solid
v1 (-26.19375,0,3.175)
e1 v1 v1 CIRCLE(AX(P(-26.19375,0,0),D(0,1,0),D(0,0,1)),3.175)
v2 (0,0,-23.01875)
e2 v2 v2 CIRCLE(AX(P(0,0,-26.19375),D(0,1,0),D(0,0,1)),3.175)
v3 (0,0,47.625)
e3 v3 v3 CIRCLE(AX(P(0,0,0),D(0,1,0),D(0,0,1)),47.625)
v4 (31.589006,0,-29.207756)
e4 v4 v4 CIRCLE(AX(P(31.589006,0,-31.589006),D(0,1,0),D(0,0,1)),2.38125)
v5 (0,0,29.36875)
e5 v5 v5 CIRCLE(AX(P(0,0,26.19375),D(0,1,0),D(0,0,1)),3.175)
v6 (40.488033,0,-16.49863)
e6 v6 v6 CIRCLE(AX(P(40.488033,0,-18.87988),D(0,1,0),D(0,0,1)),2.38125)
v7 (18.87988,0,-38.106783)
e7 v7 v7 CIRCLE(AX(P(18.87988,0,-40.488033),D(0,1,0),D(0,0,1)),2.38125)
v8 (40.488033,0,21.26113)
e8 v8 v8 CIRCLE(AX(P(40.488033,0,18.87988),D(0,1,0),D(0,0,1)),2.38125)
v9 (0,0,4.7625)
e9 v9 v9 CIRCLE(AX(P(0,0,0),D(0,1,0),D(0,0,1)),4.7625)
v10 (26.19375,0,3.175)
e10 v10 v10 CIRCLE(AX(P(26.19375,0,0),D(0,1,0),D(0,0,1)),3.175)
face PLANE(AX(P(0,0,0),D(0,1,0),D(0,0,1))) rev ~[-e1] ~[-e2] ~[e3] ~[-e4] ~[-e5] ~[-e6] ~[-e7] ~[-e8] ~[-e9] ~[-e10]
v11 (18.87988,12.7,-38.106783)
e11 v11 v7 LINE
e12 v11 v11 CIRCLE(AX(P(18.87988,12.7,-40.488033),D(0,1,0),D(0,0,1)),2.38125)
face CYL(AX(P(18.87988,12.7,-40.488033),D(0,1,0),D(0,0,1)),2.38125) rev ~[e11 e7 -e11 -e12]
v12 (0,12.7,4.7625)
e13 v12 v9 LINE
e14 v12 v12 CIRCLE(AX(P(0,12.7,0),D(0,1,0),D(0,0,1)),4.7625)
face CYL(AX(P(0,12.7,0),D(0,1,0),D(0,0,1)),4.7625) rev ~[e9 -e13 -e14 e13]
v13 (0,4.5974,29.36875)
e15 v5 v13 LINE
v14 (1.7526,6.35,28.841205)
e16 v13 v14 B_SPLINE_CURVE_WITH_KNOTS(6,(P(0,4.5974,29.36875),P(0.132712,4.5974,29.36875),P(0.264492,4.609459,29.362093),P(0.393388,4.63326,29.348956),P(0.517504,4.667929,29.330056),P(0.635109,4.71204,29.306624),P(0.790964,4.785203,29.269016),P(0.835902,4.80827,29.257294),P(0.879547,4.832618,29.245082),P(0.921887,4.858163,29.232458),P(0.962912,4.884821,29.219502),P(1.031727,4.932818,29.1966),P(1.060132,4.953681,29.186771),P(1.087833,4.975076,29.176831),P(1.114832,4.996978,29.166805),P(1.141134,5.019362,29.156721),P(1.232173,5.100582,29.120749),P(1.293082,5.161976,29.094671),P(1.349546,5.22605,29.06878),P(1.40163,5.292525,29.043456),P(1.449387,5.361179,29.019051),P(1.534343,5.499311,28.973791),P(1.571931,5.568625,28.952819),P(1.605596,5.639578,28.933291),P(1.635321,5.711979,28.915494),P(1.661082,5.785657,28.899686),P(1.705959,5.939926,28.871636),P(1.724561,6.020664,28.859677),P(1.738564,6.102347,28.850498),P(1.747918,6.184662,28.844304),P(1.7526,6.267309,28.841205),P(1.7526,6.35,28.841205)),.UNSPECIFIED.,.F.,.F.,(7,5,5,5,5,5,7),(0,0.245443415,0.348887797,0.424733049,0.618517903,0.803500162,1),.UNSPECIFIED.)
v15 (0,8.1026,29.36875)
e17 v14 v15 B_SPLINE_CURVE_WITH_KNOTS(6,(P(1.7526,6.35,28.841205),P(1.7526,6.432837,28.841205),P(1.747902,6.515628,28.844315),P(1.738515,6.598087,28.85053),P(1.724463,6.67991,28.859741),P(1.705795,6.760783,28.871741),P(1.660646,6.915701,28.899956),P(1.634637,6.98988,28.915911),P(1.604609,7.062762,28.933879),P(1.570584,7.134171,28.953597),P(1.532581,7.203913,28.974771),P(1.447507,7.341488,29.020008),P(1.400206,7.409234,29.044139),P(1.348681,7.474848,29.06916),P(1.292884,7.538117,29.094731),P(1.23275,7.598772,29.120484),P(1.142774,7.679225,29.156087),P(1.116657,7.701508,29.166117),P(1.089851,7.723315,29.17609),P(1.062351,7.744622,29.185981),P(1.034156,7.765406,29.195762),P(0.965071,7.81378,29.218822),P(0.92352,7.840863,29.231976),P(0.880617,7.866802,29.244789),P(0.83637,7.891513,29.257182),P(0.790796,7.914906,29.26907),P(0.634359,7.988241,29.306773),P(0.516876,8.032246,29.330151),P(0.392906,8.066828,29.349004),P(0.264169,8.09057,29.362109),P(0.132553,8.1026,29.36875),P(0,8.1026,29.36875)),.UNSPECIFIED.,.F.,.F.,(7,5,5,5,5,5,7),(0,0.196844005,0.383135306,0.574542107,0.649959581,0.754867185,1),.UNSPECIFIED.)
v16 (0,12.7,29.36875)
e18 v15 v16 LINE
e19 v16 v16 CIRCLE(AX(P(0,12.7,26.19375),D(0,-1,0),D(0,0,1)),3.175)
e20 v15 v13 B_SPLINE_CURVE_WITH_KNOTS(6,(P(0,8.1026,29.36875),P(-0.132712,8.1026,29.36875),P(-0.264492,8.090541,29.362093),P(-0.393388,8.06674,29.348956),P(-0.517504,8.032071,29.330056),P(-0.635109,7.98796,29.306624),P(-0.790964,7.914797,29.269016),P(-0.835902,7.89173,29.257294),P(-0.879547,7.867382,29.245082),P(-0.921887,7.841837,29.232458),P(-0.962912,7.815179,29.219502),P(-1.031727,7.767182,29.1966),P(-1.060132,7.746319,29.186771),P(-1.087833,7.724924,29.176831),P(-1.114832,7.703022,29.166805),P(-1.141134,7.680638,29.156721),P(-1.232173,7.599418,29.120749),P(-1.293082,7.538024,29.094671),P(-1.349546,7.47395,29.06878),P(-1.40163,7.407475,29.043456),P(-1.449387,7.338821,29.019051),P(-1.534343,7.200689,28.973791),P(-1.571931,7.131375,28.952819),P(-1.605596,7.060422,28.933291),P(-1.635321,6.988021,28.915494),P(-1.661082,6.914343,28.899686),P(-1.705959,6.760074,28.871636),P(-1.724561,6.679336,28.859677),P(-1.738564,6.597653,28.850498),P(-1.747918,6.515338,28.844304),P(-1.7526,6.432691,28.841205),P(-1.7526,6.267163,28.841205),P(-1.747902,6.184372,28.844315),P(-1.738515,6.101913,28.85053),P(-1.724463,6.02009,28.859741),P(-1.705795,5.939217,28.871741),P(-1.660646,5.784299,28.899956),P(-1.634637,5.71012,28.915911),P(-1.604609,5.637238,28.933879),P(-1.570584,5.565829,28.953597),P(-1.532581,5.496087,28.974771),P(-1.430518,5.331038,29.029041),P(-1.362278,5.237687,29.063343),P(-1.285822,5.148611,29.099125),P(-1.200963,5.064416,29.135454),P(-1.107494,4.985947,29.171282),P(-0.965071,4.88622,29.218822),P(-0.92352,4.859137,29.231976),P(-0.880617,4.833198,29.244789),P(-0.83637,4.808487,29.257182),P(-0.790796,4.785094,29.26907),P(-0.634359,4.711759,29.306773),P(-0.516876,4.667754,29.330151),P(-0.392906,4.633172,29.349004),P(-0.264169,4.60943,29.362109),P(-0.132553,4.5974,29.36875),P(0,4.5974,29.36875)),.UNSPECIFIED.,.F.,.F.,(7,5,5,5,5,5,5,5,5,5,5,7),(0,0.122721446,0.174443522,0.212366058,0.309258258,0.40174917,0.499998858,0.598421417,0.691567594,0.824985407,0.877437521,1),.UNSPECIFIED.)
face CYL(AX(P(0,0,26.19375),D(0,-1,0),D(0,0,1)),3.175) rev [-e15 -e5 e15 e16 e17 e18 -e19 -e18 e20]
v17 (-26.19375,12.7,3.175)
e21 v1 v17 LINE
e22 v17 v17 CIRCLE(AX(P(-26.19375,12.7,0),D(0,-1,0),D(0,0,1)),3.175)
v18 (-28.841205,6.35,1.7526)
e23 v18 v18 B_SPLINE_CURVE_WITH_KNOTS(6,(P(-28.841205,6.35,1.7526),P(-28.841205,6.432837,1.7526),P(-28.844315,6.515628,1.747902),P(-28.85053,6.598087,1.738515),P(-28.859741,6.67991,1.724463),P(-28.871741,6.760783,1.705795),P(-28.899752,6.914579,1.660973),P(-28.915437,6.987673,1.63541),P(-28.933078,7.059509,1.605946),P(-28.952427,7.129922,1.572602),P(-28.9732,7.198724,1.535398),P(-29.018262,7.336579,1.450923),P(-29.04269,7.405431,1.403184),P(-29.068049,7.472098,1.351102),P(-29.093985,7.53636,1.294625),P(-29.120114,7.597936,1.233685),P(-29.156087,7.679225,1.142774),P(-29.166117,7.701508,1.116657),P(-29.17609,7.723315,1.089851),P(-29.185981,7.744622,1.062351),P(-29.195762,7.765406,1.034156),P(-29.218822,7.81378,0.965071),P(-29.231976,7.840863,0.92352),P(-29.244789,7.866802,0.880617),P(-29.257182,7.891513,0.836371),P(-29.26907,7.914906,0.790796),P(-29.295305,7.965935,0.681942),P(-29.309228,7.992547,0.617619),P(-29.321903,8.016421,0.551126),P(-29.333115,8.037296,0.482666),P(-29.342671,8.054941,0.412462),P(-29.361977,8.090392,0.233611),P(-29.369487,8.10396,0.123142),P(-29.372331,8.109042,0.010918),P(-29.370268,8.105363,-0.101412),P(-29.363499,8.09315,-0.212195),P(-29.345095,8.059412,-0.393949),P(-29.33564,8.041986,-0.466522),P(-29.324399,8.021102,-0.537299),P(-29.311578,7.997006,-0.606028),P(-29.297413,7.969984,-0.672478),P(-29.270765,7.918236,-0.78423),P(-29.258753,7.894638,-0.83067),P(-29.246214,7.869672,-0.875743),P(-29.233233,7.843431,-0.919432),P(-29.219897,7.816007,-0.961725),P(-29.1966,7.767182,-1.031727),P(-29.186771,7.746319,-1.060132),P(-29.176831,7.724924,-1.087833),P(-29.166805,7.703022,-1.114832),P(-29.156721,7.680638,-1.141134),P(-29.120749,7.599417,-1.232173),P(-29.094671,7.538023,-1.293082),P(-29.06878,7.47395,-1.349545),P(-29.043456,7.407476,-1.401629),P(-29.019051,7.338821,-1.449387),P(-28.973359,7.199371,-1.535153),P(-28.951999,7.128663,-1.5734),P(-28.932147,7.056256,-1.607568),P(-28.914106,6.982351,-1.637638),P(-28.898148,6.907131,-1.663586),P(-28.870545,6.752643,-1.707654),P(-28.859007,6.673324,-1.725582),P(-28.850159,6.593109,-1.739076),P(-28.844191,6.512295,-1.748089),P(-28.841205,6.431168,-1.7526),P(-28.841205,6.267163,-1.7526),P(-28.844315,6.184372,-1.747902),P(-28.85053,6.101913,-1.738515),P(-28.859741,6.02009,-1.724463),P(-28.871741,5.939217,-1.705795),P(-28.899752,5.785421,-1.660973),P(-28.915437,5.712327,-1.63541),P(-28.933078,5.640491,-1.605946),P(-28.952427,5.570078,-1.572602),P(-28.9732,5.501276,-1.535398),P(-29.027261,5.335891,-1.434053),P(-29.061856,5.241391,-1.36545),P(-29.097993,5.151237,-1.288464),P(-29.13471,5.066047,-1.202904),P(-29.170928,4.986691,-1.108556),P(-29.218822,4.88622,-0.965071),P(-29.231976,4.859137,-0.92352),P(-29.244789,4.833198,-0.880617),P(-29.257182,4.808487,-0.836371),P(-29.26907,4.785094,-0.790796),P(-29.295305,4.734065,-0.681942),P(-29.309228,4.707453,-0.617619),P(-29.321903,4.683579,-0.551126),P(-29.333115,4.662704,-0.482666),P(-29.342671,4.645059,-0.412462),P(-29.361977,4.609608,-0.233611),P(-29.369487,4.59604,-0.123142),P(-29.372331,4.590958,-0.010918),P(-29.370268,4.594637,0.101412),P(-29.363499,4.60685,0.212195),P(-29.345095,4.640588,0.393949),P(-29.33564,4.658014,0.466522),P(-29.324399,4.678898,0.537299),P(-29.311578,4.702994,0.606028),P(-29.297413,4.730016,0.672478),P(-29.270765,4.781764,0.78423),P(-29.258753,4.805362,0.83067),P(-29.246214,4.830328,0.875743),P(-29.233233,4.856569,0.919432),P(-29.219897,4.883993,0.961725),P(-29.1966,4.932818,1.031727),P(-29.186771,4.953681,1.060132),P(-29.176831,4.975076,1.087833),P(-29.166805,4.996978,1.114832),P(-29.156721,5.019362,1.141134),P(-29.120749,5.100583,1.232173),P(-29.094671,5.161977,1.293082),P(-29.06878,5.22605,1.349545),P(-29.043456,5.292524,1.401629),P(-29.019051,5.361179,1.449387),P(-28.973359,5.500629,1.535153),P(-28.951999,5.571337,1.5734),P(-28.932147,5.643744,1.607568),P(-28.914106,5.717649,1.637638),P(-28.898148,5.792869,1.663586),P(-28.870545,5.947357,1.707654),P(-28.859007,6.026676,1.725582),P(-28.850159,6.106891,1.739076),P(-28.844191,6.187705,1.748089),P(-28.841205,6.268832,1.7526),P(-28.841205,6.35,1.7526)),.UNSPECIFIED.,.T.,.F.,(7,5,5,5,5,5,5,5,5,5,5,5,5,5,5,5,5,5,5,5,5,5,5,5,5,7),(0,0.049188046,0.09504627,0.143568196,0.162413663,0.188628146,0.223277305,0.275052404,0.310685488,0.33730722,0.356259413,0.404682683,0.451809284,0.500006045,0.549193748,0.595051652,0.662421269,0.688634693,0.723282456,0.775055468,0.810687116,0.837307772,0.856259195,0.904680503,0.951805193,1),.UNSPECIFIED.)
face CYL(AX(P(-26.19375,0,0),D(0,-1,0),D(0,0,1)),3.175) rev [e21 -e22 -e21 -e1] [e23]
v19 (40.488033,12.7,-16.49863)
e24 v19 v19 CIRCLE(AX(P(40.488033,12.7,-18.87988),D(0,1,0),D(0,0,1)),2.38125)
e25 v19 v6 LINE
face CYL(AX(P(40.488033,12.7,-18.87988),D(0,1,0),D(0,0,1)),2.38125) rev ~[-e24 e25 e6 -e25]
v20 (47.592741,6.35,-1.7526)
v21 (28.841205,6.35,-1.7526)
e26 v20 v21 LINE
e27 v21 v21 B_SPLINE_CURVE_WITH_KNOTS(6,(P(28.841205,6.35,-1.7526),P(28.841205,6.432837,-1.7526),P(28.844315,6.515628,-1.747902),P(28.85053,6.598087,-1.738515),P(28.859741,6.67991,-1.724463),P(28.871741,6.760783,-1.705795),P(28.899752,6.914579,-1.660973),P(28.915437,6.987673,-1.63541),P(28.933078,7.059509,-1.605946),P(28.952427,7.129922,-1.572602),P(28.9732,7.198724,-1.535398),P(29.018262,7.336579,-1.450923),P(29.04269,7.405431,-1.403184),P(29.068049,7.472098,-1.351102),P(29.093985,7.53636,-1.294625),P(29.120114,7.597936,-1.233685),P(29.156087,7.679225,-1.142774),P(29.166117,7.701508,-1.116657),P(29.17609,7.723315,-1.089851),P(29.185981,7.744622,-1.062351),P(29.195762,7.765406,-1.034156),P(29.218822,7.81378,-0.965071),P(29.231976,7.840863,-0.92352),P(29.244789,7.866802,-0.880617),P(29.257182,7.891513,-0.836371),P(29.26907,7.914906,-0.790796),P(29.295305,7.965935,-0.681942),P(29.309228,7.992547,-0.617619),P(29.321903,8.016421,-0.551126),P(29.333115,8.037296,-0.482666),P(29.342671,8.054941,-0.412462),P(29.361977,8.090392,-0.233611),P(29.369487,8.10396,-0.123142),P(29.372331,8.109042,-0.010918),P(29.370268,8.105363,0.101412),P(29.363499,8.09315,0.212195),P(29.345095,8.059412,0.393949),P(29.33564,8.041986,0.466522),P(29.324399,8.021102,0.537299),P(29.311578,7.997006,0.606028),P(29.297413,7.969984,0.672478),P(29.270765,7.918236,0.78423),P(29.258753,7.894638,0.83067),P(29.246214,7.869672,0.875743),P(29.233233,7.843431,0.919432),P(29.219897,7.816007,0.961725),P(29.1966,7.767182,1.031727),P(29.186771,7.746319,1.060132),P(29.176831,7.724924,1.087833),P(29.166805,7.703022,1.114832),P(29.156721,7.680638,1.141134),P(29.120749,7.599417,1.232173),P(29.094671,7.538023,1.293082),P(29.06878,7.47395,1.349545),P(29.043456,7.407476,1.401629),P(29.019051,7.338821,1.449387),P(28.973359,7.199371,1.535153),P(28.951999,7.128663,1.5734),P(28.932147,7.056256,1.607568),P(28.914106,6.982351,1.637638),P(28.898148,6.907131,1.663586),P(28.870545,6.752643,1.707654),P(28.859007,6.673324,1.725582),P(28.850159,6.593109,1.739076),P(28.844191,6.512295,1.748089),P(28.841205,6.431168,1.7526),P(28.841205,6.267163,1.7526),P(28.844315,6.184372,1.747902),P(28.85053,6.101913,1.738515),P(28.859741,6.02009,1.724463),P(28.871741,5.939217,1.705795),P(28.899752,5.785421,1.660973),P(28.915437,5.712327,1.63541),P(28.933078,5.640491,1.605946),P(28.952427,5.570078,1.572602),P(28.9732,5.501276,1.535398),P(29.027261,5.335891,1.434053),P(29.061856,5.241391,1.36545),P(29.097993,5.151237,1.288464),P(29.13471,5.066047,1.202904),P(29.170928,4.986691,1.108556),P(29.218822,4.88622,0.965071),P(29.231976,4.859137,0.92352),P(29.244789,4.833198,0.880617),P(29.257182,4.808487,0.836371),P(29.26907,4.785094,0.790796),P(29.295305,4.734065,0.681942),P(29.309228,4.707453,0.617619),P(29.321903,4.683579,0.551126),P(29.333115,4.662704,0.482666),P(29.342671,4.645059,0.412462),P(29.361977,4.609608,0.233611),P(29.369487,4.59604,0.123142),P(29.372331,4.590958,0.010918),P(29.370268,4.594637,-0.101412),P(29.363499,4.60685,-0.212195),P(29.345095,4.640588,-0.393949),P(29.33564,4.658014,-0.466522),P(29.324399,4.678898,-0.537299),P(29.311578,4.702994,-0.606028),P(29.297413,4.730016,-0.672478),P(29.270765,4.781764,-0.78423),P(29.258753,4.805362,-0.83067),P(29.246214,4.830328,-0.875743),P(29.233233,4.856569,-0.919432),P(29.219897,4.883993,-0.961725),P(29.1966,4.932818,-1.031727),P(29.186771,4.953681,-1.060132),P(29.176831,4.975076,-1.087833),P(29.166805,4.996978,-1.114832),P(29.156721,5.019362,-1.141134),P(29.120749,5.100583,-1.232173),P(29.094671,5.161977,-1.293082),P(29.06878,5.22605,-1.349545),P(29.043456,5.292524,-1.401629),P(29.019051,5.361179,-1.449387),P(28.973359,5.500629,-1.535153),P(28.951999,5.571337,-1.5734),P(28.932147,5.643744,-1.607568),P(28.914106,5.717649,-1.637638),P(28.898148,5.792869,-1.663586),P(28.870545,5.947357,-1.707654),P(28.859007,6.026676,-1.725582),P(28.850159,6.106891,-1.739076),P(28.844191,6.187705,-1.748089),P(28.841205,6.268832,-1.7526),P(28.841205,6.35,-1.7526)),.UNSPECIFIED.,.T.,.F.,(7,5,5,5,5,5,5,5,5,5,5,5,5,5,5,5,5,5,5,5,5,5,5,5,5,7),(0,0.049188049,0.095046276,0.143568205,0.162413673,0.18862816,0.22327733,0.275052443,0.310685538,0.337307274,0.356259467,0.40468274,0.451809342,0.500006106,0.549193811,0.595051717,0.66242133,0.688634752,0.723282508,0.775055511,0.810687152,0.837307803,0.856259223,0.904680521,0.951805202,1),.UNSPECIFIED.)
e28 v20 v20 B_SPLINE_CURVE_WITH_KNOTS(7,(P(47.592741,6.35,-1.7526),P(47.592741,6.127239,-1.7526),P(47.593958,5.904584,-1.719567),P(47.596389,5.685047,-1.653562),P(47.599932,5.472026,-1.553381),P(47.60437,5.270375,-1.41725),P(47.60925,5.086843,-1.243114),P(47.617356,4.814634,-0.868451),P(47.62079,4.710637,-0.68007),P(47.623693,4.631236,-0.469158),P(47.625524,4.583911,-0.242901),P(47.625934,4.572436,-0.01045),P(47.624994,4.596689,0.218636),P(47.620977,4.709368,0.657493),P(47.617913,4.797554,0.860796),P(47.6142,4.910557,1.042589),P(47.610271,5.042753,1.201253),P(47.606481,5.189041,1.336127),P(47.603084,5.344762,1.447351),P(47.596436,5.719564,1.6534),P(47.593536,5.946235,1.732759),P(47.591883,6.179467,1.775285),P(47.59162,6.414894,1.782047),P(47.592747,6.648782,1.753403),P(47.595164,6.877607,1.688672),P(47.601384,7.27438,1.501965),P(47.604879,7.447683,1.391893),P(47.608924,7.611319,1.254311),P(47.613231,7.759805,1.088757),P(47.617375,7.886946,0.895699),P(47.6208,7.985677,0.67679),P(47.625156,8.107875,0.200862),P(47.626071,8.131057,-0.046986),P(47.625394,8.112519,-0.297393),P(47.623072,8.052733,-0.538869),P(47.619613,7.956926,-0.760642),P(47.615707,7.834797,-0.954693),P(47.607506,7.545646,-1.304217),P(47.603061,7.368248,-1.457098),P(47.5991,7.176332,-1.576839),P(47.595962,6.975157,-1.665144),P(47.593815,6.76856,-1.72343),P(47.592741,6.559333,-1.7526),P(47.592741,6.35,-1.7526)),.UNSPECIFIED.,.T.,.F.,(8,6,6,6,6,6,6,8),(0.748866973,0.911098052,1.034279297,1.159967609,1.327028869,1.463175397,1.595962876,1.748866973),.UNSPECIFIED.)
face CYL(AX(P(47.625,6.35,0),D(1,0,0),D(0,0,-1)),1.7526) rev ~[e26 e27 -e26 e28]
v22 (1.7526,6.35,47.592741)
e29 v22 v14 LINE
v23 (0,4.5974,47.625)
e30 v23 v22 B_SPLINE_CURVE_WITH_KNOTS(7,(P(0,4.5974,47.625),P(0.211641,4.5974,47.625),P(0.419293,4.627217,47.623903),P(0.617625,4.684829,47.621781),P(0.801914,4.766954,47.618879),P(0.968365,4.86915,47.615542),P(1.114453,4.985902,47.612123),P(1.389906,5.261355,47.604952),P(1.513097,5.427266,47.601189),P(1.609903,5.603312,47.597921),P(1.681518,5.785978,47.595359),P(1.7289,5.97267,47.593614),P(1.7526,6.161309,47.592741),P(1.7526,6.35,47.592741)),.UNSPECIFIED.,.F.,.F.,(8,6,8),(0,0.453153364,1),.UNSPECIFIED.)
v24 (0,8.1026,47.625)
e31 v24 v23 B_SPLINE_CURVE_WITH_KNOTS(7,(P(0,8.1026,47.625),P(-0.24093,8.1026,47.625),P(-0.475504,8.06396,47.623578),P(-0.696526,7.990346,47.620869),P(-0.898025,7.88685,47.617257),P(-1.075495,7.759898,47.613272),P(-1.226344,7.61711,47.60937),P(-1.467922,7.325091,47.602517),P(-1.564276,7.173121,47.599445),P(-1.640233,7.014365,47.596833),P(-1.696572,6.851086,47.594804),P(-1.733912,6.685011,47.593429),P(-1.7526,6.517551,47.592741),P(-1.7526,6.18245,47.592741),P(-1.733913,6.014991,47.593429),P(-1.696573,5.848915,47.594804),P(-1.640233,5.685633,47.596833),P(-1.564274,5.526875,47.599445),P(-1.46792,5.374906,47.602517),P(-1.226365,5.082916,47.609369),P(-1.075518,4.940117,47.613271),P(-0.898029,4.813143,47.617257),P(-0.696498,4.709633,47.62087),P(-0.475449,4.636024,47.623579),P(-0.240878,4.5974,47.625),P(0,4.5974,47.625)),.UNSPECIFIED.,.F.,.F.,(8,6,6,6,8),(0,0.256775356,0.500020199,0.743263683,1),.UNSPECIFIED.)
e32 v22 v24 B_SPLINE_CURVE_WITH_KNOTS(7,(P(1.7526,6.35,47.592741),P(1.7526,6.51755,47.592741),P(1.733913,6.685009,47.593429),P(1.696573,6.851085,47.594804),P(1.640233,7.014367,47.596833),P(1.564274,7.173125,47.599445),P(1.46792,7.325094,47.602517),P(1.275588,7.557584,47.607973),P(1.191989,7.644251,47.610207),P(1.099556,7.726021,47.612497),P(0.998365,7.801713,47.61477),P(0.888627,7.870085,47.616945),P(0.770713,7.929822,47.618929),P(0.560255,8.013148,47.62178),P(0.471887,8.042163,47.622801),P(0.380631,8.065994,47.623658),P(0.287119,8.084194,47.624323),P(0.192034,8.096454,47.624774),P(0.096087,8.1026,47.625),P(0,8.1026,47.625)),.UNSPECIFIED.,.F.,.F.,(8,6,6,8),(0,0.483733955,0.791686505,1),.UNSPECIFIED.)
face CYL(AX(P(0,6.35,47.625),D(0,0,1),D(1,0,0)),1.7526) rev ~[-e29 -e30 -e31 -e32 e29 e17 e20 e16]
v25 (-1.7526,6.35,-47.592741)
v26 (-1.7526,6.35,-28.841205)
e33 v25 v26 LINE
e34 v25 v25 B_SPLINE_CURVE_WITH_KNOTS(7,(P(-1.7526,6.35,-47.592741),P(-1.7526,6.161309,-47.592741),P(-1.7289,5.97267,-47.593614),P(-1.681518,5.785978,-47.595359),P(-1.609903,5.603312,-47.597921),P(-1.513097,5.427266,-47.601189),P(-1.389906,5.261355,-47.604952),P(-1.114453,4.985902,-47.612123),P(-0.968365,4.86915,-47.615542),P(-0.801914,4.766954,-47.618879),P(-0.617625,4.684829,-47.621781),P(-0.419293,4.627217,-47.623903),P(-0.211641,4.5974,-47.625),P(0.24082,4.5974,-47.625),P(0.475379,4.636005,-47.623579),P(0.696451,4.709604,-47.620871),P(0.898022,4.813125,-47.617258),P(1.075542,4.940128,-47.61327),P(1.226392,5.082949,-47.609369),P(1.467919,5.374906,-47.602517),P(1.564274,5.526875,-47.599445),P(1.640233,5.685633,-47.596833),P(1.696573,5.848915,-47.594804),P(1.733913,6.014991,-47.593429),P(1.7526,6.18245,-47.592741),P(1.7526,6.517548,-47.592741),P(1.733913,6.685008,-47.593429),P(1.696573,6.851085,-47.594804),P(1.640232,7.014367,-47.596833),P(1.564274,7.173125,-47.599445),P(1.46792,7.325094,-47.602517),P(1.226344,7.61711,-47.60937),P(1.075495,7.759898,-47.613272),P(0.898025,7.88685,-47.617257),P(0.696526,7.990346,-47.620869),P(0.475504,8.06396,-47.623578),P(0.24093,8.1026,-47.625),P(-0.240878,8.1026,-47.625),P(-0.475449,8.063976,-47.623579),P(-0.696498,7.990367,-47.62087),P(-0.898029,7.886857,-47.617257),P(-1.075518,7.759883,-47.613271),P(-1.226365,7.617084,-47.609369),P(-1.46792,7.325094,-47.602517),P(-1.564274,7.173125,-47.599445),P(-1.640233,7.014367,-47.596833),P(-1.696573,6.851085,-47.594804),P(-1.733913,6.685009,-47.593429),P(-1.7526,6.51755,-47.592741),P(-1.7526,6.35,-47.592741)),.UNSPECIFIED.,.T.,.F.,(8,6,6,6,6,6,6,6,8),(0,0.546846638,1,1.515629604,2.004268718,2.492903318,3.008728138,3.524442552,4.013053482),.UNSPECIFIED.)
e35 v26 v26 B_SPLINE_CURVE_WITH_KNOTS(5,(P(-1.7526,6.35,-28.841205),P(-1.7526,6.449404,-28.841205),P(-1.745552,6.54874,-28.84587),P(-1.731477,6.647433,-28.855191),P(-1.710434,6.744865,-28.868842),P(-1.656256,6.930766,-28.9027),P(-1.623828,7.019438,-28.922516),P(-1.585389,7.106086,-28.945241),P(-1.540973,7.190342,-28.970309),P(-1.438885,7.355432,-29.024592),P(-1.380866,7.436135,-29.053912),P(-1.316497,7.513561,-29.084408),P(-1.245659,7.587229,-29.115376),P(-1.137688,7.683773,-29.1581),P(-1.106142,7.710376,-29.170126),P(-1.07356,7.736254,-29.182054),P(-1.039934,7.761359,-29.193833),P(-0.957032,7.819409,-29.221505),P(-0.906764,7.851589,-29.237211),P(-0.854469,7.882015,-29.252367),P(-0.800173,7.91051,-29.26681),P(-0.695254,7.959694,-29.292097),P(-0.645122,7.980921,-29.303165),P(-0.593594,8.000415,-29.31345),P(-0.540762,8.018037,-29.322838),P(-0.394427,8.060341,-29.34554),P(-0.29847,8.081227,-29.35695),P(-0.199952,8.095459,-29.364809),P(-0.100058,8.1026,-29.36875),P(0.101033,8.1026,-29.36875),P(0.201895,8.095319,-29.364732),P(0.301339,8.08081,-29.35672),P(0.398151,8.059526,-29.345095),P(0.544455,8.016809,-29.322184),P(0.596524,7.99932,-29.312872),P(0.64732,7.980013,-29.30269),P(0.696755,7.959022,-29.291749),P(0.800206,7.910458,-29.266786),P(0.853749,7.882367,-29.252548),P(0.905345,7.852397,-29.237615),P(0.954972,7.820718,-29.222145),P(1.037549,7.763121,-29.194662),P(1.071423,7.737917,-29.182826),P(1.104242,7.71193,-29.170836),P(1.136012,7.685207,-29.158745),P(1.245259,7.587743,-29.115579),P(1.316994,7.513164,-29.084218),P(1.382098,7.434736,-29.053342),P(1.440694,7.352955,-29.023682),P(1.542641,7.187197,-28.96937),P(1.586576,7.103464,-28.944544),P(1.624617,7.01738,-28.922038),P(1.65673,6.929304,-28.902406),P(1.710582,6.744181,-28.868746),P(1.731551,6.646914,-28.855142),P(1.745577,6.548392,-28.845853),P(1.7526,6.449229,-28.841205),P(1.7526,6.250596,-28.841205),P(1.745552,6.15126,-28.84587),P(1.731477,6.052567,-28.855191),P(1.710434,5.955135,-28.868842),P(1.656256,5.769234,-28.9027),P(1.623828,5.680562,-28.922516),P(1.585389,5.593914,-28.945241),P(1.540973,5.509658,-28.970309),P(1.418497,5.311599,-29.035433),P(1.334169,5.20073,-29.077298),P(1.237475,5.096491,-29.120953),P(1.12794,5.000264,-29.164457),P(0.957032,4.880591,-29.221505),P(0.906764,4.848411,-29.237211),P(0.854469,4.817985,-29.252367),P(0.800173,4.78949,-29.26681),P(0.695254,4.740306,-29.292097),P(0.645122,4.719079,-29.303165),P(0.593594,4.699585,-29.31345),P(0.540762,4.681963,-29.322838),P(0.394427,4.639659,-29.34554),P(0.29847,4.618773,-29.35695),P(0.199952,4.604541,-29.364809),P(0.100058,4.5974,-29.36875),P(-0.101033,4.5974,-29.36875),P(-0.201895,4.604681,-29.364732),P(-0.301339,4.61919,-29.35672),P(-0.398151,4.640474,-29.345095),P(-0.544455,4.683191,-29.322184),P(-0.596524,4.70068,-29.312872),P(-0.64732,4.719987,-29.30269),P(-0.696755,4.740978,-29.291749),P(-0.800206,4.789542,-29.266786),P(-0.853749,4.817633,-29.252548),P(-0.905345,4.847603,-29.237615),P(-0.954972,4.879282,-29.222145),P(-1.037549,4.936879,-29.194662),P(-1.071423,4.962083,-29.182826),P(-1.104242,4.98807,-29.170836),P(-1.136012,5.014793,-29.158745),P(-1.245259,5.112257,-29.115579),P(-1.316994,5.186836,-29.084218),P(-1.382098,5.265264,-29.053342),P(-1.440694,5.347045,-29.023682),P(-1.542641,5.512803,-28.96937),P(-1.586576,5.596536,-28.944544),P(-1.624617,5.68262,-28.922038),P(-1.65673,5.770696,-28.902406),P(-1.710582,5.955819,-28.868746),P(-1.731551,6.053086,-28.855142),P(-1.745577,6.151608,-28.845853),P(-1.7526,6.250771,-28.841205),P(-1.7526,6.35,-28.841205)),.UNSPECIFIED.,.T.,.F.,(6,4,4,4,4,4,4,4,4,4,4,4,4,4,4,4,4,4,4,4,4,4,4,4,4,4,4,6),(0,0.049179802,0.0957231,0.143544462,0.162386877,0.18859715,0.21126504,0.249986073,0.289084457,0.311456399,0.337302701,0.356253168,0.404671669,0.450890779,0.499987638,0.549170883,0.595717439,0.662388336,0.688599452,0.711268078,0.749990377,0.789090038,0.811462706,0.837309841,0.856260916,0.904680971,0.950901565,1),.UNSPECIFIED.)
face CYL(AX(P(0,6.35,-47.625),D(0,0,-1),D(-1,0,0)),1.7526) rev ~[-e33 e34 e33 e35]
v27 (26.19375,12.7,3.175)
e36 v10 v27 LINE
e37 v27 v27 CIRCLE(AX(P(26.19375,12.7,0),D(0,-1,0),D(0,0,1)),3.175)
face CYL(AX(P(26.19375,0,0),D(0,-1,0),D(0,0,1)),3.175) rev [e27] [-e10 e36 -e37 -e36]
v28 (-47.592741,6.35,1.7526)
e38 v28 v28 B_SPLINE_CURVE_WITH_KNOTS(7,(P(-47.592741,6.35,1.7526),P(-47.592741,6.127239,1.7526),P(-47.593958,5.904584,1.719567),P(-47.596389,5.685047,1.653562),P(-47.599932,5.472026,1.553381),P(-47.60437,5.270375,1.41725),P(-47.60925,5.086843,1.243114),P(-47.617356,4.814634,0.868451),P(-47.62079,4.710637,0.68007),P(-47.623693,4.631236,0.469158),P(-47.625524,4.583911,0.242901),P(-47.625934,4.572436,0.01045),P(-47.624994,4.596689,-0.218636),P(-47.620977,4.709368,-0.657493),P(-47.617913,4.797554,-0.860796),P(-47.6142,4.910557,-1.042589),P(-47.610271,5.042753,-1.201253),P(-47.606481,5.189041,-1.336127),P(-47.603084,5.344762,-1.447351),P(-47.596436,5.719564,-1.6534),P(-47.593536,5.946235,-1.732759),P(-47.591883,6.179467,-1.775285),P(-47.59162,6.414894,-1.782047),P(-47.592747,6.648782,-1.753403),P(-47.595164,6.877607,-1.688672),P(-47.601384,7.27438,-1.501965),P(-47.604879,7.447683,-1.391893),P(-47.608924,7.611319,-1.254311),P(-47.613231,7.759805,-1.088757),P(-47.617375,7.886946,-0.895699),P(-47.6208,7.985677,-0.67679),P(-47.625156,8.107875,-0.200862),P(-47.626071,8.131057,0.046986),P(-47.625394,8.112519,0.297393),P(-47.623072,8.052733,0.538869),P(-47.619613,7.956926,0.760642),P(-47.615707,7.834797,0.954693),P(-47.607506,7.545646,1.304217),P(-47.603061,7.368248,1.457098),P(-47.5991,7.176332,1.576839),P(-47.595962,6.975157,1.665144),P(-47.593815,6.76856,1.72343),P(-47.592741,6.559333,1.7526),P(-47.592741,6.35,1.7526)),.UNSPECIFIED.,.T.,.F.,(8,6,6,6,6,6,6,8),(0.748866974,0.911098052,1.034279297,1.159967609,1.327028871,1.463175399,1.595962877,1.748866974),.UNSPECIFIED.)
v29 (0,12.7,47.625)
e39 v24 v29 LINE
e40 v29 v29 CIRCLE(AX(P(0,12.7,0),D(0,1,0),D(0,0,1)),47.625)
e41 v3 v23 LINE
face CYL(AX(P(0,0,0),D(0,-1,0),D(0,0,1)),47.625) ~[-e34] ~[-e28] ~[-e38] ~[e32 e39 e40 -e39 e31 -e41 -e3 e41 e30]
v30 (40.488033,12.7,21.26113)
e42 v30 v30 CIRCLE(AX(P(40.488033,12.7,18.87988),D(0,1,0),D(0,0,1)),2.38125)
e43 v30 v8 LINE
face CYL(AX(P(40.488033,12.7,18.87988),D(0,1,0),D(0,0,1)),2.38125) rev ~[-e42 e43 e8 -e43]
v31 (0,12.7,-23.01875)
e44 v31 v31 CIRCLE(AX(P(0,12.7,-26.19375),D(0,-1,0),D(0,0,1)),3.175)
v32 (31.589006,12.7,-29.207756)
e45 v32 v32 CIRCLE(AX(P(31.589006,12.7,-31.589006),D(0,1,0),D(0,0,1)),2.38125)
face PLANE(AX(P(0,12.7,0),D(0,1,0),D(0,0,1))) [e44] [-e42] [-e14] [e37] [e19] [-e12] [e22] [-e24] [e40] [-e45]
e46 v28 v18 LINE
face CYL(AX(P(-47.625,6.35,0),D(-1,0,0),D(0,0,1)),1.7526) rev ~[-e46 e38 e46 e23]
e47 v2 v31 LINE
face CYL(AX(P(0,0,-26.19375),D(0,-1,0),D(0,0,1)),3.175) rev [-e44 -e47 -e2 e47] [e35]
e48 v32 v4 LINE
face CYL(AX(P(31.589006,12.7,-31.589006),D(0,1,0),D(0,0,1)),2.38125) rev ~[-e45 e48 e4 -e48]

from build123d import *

# Parameters (mm, degrees)
SKETCH1_R           = 47.625
BOSS_EXTRUDE1_DEPTH = 12.7
SKETCH6_R           = 1.7526
CUT_EXTRUDE3_DEPTH  = 19.05
CIRPATTERN4_COUNT   = 4
SKETCH7_R           = 3.175
CUT_EXTRUDE6_DEPTH  = 69.538830402
SKETCH8_R           = 4.7625
CUT_EXTRUDE7_DEPTH  = 69.538830402
SKETCH11_R          = 2.38125
CUT_EXTRUDE8_DEPTH  = 69.538830402


with BuildPart() as part:
    # Sketch1 → Boss-Extrude1 (new body)
    with BuildSketch(Plane(origin=(0, 0, 0), x_dir=(1, 0, 0), z_dir=(0, 1, 0))):
        with Locations(Location((0, 0, 0), (0, 0, 270))):
            Circle(SKETCH1_R)
    extrude(amount=BOSS_EXTRUDE1_DEPTH)

    # Sketch6 → Cut-Extrude3 (cut)
    with BuildSketch(Plane(origin=(0, 0, -47.625), x_dir=(0, -1, 0), z_dir=(0, 0, -1))):
        with Locations(Location((-6.35, 0, 0), (0, 0, 90))):
            Circle(SKETCH6_R)
    cut_extrude3 = extrude(amount=-CUT_EXTRUDE3_DEPTH, mode=Mode.SUBTRACT)

    # CirPattern4: Cut-Extrude3 ×4 about axis
    cirpattern4_axis = Axis((0, 0, 0), (0, 1, 0))
    for i in range(1, CIRPATTERN4_COUNT):
        add(cut_extrude3.rotate(cirpattern4_axis, i * 360 / CIRPATTERN4_COUNT), mode=Mode.SUBTRACT)

    # Sketch7 → Cut-Extrude6 (cut, through all)
    with BuildSketch(Plane(origin=(0, 0, 0), x_dir=(1, 0, 0), z_dir=(0, 1, 0))):
        with Locations(Location((-26.19375, 0, 0), (0, 0, 270))):
            Circle(SKETCH7_R)
        with Locations(Location((26.19375, 0, 0), (0, 0, 270))):
            Circle(SKETCH7_R)
        with Locations(Location((0, 26.19375, 0), (0, 0, 270))):
            Circle(SKETCH7_R)
        with Locations(Location((0, -26.19375, 0), (0, 0, 270))):
            Circle(SKETCH7_R)
    extrude(amount=CUT_EXTRUDE6_DEPTH, mode=Mode.SUBTRACT)

    # Sketch8 → Cut-Extrude7 (cut, through all)
    with BuildSketch(Plane(origin=(0, 12.7, 0), x_dir=(1, 0, 0), z_dir=(0, 1, 0))):
        with Locations(Location((0, 0, 0), (0, 0, 270))):
            Circle(SKETCH8_R)
    extrude(amount=-CUT_EXTRUDE7_DEPTH, mode=Mode.SUBTRACT)

    # Sketch11 → Cut-Extrude8 (cut, through all)
    with BuildSketch(Plane(origin=(0, 12.7, 0), x_dir=(1, 0, 0), z_dir=(0, 1, 0))):
        with Locations(Location((31.589006405, 31.589006405, 0), (0, 0, 270))):
            Circle(SKETCH11_R)
        with Locations(Location((40.488032715, 18.879879719, 0), (0, 0, 270))):
            Circle(SKETCH11_R)
        with Locations(Location((18.879879719, 40.488032715, 0), (0, 0, 270))):
            Circle(SKETCH11_R)
        with Locations(Location((40.488032715, -18.879879719, 0), (0, 0, 270))):
            Circle(SKETCH11_R)
    extrude(amount=-CUT_EXTRUDE8_DEPTH, mode=Mode.SUBTRACT)


solid = part.part
